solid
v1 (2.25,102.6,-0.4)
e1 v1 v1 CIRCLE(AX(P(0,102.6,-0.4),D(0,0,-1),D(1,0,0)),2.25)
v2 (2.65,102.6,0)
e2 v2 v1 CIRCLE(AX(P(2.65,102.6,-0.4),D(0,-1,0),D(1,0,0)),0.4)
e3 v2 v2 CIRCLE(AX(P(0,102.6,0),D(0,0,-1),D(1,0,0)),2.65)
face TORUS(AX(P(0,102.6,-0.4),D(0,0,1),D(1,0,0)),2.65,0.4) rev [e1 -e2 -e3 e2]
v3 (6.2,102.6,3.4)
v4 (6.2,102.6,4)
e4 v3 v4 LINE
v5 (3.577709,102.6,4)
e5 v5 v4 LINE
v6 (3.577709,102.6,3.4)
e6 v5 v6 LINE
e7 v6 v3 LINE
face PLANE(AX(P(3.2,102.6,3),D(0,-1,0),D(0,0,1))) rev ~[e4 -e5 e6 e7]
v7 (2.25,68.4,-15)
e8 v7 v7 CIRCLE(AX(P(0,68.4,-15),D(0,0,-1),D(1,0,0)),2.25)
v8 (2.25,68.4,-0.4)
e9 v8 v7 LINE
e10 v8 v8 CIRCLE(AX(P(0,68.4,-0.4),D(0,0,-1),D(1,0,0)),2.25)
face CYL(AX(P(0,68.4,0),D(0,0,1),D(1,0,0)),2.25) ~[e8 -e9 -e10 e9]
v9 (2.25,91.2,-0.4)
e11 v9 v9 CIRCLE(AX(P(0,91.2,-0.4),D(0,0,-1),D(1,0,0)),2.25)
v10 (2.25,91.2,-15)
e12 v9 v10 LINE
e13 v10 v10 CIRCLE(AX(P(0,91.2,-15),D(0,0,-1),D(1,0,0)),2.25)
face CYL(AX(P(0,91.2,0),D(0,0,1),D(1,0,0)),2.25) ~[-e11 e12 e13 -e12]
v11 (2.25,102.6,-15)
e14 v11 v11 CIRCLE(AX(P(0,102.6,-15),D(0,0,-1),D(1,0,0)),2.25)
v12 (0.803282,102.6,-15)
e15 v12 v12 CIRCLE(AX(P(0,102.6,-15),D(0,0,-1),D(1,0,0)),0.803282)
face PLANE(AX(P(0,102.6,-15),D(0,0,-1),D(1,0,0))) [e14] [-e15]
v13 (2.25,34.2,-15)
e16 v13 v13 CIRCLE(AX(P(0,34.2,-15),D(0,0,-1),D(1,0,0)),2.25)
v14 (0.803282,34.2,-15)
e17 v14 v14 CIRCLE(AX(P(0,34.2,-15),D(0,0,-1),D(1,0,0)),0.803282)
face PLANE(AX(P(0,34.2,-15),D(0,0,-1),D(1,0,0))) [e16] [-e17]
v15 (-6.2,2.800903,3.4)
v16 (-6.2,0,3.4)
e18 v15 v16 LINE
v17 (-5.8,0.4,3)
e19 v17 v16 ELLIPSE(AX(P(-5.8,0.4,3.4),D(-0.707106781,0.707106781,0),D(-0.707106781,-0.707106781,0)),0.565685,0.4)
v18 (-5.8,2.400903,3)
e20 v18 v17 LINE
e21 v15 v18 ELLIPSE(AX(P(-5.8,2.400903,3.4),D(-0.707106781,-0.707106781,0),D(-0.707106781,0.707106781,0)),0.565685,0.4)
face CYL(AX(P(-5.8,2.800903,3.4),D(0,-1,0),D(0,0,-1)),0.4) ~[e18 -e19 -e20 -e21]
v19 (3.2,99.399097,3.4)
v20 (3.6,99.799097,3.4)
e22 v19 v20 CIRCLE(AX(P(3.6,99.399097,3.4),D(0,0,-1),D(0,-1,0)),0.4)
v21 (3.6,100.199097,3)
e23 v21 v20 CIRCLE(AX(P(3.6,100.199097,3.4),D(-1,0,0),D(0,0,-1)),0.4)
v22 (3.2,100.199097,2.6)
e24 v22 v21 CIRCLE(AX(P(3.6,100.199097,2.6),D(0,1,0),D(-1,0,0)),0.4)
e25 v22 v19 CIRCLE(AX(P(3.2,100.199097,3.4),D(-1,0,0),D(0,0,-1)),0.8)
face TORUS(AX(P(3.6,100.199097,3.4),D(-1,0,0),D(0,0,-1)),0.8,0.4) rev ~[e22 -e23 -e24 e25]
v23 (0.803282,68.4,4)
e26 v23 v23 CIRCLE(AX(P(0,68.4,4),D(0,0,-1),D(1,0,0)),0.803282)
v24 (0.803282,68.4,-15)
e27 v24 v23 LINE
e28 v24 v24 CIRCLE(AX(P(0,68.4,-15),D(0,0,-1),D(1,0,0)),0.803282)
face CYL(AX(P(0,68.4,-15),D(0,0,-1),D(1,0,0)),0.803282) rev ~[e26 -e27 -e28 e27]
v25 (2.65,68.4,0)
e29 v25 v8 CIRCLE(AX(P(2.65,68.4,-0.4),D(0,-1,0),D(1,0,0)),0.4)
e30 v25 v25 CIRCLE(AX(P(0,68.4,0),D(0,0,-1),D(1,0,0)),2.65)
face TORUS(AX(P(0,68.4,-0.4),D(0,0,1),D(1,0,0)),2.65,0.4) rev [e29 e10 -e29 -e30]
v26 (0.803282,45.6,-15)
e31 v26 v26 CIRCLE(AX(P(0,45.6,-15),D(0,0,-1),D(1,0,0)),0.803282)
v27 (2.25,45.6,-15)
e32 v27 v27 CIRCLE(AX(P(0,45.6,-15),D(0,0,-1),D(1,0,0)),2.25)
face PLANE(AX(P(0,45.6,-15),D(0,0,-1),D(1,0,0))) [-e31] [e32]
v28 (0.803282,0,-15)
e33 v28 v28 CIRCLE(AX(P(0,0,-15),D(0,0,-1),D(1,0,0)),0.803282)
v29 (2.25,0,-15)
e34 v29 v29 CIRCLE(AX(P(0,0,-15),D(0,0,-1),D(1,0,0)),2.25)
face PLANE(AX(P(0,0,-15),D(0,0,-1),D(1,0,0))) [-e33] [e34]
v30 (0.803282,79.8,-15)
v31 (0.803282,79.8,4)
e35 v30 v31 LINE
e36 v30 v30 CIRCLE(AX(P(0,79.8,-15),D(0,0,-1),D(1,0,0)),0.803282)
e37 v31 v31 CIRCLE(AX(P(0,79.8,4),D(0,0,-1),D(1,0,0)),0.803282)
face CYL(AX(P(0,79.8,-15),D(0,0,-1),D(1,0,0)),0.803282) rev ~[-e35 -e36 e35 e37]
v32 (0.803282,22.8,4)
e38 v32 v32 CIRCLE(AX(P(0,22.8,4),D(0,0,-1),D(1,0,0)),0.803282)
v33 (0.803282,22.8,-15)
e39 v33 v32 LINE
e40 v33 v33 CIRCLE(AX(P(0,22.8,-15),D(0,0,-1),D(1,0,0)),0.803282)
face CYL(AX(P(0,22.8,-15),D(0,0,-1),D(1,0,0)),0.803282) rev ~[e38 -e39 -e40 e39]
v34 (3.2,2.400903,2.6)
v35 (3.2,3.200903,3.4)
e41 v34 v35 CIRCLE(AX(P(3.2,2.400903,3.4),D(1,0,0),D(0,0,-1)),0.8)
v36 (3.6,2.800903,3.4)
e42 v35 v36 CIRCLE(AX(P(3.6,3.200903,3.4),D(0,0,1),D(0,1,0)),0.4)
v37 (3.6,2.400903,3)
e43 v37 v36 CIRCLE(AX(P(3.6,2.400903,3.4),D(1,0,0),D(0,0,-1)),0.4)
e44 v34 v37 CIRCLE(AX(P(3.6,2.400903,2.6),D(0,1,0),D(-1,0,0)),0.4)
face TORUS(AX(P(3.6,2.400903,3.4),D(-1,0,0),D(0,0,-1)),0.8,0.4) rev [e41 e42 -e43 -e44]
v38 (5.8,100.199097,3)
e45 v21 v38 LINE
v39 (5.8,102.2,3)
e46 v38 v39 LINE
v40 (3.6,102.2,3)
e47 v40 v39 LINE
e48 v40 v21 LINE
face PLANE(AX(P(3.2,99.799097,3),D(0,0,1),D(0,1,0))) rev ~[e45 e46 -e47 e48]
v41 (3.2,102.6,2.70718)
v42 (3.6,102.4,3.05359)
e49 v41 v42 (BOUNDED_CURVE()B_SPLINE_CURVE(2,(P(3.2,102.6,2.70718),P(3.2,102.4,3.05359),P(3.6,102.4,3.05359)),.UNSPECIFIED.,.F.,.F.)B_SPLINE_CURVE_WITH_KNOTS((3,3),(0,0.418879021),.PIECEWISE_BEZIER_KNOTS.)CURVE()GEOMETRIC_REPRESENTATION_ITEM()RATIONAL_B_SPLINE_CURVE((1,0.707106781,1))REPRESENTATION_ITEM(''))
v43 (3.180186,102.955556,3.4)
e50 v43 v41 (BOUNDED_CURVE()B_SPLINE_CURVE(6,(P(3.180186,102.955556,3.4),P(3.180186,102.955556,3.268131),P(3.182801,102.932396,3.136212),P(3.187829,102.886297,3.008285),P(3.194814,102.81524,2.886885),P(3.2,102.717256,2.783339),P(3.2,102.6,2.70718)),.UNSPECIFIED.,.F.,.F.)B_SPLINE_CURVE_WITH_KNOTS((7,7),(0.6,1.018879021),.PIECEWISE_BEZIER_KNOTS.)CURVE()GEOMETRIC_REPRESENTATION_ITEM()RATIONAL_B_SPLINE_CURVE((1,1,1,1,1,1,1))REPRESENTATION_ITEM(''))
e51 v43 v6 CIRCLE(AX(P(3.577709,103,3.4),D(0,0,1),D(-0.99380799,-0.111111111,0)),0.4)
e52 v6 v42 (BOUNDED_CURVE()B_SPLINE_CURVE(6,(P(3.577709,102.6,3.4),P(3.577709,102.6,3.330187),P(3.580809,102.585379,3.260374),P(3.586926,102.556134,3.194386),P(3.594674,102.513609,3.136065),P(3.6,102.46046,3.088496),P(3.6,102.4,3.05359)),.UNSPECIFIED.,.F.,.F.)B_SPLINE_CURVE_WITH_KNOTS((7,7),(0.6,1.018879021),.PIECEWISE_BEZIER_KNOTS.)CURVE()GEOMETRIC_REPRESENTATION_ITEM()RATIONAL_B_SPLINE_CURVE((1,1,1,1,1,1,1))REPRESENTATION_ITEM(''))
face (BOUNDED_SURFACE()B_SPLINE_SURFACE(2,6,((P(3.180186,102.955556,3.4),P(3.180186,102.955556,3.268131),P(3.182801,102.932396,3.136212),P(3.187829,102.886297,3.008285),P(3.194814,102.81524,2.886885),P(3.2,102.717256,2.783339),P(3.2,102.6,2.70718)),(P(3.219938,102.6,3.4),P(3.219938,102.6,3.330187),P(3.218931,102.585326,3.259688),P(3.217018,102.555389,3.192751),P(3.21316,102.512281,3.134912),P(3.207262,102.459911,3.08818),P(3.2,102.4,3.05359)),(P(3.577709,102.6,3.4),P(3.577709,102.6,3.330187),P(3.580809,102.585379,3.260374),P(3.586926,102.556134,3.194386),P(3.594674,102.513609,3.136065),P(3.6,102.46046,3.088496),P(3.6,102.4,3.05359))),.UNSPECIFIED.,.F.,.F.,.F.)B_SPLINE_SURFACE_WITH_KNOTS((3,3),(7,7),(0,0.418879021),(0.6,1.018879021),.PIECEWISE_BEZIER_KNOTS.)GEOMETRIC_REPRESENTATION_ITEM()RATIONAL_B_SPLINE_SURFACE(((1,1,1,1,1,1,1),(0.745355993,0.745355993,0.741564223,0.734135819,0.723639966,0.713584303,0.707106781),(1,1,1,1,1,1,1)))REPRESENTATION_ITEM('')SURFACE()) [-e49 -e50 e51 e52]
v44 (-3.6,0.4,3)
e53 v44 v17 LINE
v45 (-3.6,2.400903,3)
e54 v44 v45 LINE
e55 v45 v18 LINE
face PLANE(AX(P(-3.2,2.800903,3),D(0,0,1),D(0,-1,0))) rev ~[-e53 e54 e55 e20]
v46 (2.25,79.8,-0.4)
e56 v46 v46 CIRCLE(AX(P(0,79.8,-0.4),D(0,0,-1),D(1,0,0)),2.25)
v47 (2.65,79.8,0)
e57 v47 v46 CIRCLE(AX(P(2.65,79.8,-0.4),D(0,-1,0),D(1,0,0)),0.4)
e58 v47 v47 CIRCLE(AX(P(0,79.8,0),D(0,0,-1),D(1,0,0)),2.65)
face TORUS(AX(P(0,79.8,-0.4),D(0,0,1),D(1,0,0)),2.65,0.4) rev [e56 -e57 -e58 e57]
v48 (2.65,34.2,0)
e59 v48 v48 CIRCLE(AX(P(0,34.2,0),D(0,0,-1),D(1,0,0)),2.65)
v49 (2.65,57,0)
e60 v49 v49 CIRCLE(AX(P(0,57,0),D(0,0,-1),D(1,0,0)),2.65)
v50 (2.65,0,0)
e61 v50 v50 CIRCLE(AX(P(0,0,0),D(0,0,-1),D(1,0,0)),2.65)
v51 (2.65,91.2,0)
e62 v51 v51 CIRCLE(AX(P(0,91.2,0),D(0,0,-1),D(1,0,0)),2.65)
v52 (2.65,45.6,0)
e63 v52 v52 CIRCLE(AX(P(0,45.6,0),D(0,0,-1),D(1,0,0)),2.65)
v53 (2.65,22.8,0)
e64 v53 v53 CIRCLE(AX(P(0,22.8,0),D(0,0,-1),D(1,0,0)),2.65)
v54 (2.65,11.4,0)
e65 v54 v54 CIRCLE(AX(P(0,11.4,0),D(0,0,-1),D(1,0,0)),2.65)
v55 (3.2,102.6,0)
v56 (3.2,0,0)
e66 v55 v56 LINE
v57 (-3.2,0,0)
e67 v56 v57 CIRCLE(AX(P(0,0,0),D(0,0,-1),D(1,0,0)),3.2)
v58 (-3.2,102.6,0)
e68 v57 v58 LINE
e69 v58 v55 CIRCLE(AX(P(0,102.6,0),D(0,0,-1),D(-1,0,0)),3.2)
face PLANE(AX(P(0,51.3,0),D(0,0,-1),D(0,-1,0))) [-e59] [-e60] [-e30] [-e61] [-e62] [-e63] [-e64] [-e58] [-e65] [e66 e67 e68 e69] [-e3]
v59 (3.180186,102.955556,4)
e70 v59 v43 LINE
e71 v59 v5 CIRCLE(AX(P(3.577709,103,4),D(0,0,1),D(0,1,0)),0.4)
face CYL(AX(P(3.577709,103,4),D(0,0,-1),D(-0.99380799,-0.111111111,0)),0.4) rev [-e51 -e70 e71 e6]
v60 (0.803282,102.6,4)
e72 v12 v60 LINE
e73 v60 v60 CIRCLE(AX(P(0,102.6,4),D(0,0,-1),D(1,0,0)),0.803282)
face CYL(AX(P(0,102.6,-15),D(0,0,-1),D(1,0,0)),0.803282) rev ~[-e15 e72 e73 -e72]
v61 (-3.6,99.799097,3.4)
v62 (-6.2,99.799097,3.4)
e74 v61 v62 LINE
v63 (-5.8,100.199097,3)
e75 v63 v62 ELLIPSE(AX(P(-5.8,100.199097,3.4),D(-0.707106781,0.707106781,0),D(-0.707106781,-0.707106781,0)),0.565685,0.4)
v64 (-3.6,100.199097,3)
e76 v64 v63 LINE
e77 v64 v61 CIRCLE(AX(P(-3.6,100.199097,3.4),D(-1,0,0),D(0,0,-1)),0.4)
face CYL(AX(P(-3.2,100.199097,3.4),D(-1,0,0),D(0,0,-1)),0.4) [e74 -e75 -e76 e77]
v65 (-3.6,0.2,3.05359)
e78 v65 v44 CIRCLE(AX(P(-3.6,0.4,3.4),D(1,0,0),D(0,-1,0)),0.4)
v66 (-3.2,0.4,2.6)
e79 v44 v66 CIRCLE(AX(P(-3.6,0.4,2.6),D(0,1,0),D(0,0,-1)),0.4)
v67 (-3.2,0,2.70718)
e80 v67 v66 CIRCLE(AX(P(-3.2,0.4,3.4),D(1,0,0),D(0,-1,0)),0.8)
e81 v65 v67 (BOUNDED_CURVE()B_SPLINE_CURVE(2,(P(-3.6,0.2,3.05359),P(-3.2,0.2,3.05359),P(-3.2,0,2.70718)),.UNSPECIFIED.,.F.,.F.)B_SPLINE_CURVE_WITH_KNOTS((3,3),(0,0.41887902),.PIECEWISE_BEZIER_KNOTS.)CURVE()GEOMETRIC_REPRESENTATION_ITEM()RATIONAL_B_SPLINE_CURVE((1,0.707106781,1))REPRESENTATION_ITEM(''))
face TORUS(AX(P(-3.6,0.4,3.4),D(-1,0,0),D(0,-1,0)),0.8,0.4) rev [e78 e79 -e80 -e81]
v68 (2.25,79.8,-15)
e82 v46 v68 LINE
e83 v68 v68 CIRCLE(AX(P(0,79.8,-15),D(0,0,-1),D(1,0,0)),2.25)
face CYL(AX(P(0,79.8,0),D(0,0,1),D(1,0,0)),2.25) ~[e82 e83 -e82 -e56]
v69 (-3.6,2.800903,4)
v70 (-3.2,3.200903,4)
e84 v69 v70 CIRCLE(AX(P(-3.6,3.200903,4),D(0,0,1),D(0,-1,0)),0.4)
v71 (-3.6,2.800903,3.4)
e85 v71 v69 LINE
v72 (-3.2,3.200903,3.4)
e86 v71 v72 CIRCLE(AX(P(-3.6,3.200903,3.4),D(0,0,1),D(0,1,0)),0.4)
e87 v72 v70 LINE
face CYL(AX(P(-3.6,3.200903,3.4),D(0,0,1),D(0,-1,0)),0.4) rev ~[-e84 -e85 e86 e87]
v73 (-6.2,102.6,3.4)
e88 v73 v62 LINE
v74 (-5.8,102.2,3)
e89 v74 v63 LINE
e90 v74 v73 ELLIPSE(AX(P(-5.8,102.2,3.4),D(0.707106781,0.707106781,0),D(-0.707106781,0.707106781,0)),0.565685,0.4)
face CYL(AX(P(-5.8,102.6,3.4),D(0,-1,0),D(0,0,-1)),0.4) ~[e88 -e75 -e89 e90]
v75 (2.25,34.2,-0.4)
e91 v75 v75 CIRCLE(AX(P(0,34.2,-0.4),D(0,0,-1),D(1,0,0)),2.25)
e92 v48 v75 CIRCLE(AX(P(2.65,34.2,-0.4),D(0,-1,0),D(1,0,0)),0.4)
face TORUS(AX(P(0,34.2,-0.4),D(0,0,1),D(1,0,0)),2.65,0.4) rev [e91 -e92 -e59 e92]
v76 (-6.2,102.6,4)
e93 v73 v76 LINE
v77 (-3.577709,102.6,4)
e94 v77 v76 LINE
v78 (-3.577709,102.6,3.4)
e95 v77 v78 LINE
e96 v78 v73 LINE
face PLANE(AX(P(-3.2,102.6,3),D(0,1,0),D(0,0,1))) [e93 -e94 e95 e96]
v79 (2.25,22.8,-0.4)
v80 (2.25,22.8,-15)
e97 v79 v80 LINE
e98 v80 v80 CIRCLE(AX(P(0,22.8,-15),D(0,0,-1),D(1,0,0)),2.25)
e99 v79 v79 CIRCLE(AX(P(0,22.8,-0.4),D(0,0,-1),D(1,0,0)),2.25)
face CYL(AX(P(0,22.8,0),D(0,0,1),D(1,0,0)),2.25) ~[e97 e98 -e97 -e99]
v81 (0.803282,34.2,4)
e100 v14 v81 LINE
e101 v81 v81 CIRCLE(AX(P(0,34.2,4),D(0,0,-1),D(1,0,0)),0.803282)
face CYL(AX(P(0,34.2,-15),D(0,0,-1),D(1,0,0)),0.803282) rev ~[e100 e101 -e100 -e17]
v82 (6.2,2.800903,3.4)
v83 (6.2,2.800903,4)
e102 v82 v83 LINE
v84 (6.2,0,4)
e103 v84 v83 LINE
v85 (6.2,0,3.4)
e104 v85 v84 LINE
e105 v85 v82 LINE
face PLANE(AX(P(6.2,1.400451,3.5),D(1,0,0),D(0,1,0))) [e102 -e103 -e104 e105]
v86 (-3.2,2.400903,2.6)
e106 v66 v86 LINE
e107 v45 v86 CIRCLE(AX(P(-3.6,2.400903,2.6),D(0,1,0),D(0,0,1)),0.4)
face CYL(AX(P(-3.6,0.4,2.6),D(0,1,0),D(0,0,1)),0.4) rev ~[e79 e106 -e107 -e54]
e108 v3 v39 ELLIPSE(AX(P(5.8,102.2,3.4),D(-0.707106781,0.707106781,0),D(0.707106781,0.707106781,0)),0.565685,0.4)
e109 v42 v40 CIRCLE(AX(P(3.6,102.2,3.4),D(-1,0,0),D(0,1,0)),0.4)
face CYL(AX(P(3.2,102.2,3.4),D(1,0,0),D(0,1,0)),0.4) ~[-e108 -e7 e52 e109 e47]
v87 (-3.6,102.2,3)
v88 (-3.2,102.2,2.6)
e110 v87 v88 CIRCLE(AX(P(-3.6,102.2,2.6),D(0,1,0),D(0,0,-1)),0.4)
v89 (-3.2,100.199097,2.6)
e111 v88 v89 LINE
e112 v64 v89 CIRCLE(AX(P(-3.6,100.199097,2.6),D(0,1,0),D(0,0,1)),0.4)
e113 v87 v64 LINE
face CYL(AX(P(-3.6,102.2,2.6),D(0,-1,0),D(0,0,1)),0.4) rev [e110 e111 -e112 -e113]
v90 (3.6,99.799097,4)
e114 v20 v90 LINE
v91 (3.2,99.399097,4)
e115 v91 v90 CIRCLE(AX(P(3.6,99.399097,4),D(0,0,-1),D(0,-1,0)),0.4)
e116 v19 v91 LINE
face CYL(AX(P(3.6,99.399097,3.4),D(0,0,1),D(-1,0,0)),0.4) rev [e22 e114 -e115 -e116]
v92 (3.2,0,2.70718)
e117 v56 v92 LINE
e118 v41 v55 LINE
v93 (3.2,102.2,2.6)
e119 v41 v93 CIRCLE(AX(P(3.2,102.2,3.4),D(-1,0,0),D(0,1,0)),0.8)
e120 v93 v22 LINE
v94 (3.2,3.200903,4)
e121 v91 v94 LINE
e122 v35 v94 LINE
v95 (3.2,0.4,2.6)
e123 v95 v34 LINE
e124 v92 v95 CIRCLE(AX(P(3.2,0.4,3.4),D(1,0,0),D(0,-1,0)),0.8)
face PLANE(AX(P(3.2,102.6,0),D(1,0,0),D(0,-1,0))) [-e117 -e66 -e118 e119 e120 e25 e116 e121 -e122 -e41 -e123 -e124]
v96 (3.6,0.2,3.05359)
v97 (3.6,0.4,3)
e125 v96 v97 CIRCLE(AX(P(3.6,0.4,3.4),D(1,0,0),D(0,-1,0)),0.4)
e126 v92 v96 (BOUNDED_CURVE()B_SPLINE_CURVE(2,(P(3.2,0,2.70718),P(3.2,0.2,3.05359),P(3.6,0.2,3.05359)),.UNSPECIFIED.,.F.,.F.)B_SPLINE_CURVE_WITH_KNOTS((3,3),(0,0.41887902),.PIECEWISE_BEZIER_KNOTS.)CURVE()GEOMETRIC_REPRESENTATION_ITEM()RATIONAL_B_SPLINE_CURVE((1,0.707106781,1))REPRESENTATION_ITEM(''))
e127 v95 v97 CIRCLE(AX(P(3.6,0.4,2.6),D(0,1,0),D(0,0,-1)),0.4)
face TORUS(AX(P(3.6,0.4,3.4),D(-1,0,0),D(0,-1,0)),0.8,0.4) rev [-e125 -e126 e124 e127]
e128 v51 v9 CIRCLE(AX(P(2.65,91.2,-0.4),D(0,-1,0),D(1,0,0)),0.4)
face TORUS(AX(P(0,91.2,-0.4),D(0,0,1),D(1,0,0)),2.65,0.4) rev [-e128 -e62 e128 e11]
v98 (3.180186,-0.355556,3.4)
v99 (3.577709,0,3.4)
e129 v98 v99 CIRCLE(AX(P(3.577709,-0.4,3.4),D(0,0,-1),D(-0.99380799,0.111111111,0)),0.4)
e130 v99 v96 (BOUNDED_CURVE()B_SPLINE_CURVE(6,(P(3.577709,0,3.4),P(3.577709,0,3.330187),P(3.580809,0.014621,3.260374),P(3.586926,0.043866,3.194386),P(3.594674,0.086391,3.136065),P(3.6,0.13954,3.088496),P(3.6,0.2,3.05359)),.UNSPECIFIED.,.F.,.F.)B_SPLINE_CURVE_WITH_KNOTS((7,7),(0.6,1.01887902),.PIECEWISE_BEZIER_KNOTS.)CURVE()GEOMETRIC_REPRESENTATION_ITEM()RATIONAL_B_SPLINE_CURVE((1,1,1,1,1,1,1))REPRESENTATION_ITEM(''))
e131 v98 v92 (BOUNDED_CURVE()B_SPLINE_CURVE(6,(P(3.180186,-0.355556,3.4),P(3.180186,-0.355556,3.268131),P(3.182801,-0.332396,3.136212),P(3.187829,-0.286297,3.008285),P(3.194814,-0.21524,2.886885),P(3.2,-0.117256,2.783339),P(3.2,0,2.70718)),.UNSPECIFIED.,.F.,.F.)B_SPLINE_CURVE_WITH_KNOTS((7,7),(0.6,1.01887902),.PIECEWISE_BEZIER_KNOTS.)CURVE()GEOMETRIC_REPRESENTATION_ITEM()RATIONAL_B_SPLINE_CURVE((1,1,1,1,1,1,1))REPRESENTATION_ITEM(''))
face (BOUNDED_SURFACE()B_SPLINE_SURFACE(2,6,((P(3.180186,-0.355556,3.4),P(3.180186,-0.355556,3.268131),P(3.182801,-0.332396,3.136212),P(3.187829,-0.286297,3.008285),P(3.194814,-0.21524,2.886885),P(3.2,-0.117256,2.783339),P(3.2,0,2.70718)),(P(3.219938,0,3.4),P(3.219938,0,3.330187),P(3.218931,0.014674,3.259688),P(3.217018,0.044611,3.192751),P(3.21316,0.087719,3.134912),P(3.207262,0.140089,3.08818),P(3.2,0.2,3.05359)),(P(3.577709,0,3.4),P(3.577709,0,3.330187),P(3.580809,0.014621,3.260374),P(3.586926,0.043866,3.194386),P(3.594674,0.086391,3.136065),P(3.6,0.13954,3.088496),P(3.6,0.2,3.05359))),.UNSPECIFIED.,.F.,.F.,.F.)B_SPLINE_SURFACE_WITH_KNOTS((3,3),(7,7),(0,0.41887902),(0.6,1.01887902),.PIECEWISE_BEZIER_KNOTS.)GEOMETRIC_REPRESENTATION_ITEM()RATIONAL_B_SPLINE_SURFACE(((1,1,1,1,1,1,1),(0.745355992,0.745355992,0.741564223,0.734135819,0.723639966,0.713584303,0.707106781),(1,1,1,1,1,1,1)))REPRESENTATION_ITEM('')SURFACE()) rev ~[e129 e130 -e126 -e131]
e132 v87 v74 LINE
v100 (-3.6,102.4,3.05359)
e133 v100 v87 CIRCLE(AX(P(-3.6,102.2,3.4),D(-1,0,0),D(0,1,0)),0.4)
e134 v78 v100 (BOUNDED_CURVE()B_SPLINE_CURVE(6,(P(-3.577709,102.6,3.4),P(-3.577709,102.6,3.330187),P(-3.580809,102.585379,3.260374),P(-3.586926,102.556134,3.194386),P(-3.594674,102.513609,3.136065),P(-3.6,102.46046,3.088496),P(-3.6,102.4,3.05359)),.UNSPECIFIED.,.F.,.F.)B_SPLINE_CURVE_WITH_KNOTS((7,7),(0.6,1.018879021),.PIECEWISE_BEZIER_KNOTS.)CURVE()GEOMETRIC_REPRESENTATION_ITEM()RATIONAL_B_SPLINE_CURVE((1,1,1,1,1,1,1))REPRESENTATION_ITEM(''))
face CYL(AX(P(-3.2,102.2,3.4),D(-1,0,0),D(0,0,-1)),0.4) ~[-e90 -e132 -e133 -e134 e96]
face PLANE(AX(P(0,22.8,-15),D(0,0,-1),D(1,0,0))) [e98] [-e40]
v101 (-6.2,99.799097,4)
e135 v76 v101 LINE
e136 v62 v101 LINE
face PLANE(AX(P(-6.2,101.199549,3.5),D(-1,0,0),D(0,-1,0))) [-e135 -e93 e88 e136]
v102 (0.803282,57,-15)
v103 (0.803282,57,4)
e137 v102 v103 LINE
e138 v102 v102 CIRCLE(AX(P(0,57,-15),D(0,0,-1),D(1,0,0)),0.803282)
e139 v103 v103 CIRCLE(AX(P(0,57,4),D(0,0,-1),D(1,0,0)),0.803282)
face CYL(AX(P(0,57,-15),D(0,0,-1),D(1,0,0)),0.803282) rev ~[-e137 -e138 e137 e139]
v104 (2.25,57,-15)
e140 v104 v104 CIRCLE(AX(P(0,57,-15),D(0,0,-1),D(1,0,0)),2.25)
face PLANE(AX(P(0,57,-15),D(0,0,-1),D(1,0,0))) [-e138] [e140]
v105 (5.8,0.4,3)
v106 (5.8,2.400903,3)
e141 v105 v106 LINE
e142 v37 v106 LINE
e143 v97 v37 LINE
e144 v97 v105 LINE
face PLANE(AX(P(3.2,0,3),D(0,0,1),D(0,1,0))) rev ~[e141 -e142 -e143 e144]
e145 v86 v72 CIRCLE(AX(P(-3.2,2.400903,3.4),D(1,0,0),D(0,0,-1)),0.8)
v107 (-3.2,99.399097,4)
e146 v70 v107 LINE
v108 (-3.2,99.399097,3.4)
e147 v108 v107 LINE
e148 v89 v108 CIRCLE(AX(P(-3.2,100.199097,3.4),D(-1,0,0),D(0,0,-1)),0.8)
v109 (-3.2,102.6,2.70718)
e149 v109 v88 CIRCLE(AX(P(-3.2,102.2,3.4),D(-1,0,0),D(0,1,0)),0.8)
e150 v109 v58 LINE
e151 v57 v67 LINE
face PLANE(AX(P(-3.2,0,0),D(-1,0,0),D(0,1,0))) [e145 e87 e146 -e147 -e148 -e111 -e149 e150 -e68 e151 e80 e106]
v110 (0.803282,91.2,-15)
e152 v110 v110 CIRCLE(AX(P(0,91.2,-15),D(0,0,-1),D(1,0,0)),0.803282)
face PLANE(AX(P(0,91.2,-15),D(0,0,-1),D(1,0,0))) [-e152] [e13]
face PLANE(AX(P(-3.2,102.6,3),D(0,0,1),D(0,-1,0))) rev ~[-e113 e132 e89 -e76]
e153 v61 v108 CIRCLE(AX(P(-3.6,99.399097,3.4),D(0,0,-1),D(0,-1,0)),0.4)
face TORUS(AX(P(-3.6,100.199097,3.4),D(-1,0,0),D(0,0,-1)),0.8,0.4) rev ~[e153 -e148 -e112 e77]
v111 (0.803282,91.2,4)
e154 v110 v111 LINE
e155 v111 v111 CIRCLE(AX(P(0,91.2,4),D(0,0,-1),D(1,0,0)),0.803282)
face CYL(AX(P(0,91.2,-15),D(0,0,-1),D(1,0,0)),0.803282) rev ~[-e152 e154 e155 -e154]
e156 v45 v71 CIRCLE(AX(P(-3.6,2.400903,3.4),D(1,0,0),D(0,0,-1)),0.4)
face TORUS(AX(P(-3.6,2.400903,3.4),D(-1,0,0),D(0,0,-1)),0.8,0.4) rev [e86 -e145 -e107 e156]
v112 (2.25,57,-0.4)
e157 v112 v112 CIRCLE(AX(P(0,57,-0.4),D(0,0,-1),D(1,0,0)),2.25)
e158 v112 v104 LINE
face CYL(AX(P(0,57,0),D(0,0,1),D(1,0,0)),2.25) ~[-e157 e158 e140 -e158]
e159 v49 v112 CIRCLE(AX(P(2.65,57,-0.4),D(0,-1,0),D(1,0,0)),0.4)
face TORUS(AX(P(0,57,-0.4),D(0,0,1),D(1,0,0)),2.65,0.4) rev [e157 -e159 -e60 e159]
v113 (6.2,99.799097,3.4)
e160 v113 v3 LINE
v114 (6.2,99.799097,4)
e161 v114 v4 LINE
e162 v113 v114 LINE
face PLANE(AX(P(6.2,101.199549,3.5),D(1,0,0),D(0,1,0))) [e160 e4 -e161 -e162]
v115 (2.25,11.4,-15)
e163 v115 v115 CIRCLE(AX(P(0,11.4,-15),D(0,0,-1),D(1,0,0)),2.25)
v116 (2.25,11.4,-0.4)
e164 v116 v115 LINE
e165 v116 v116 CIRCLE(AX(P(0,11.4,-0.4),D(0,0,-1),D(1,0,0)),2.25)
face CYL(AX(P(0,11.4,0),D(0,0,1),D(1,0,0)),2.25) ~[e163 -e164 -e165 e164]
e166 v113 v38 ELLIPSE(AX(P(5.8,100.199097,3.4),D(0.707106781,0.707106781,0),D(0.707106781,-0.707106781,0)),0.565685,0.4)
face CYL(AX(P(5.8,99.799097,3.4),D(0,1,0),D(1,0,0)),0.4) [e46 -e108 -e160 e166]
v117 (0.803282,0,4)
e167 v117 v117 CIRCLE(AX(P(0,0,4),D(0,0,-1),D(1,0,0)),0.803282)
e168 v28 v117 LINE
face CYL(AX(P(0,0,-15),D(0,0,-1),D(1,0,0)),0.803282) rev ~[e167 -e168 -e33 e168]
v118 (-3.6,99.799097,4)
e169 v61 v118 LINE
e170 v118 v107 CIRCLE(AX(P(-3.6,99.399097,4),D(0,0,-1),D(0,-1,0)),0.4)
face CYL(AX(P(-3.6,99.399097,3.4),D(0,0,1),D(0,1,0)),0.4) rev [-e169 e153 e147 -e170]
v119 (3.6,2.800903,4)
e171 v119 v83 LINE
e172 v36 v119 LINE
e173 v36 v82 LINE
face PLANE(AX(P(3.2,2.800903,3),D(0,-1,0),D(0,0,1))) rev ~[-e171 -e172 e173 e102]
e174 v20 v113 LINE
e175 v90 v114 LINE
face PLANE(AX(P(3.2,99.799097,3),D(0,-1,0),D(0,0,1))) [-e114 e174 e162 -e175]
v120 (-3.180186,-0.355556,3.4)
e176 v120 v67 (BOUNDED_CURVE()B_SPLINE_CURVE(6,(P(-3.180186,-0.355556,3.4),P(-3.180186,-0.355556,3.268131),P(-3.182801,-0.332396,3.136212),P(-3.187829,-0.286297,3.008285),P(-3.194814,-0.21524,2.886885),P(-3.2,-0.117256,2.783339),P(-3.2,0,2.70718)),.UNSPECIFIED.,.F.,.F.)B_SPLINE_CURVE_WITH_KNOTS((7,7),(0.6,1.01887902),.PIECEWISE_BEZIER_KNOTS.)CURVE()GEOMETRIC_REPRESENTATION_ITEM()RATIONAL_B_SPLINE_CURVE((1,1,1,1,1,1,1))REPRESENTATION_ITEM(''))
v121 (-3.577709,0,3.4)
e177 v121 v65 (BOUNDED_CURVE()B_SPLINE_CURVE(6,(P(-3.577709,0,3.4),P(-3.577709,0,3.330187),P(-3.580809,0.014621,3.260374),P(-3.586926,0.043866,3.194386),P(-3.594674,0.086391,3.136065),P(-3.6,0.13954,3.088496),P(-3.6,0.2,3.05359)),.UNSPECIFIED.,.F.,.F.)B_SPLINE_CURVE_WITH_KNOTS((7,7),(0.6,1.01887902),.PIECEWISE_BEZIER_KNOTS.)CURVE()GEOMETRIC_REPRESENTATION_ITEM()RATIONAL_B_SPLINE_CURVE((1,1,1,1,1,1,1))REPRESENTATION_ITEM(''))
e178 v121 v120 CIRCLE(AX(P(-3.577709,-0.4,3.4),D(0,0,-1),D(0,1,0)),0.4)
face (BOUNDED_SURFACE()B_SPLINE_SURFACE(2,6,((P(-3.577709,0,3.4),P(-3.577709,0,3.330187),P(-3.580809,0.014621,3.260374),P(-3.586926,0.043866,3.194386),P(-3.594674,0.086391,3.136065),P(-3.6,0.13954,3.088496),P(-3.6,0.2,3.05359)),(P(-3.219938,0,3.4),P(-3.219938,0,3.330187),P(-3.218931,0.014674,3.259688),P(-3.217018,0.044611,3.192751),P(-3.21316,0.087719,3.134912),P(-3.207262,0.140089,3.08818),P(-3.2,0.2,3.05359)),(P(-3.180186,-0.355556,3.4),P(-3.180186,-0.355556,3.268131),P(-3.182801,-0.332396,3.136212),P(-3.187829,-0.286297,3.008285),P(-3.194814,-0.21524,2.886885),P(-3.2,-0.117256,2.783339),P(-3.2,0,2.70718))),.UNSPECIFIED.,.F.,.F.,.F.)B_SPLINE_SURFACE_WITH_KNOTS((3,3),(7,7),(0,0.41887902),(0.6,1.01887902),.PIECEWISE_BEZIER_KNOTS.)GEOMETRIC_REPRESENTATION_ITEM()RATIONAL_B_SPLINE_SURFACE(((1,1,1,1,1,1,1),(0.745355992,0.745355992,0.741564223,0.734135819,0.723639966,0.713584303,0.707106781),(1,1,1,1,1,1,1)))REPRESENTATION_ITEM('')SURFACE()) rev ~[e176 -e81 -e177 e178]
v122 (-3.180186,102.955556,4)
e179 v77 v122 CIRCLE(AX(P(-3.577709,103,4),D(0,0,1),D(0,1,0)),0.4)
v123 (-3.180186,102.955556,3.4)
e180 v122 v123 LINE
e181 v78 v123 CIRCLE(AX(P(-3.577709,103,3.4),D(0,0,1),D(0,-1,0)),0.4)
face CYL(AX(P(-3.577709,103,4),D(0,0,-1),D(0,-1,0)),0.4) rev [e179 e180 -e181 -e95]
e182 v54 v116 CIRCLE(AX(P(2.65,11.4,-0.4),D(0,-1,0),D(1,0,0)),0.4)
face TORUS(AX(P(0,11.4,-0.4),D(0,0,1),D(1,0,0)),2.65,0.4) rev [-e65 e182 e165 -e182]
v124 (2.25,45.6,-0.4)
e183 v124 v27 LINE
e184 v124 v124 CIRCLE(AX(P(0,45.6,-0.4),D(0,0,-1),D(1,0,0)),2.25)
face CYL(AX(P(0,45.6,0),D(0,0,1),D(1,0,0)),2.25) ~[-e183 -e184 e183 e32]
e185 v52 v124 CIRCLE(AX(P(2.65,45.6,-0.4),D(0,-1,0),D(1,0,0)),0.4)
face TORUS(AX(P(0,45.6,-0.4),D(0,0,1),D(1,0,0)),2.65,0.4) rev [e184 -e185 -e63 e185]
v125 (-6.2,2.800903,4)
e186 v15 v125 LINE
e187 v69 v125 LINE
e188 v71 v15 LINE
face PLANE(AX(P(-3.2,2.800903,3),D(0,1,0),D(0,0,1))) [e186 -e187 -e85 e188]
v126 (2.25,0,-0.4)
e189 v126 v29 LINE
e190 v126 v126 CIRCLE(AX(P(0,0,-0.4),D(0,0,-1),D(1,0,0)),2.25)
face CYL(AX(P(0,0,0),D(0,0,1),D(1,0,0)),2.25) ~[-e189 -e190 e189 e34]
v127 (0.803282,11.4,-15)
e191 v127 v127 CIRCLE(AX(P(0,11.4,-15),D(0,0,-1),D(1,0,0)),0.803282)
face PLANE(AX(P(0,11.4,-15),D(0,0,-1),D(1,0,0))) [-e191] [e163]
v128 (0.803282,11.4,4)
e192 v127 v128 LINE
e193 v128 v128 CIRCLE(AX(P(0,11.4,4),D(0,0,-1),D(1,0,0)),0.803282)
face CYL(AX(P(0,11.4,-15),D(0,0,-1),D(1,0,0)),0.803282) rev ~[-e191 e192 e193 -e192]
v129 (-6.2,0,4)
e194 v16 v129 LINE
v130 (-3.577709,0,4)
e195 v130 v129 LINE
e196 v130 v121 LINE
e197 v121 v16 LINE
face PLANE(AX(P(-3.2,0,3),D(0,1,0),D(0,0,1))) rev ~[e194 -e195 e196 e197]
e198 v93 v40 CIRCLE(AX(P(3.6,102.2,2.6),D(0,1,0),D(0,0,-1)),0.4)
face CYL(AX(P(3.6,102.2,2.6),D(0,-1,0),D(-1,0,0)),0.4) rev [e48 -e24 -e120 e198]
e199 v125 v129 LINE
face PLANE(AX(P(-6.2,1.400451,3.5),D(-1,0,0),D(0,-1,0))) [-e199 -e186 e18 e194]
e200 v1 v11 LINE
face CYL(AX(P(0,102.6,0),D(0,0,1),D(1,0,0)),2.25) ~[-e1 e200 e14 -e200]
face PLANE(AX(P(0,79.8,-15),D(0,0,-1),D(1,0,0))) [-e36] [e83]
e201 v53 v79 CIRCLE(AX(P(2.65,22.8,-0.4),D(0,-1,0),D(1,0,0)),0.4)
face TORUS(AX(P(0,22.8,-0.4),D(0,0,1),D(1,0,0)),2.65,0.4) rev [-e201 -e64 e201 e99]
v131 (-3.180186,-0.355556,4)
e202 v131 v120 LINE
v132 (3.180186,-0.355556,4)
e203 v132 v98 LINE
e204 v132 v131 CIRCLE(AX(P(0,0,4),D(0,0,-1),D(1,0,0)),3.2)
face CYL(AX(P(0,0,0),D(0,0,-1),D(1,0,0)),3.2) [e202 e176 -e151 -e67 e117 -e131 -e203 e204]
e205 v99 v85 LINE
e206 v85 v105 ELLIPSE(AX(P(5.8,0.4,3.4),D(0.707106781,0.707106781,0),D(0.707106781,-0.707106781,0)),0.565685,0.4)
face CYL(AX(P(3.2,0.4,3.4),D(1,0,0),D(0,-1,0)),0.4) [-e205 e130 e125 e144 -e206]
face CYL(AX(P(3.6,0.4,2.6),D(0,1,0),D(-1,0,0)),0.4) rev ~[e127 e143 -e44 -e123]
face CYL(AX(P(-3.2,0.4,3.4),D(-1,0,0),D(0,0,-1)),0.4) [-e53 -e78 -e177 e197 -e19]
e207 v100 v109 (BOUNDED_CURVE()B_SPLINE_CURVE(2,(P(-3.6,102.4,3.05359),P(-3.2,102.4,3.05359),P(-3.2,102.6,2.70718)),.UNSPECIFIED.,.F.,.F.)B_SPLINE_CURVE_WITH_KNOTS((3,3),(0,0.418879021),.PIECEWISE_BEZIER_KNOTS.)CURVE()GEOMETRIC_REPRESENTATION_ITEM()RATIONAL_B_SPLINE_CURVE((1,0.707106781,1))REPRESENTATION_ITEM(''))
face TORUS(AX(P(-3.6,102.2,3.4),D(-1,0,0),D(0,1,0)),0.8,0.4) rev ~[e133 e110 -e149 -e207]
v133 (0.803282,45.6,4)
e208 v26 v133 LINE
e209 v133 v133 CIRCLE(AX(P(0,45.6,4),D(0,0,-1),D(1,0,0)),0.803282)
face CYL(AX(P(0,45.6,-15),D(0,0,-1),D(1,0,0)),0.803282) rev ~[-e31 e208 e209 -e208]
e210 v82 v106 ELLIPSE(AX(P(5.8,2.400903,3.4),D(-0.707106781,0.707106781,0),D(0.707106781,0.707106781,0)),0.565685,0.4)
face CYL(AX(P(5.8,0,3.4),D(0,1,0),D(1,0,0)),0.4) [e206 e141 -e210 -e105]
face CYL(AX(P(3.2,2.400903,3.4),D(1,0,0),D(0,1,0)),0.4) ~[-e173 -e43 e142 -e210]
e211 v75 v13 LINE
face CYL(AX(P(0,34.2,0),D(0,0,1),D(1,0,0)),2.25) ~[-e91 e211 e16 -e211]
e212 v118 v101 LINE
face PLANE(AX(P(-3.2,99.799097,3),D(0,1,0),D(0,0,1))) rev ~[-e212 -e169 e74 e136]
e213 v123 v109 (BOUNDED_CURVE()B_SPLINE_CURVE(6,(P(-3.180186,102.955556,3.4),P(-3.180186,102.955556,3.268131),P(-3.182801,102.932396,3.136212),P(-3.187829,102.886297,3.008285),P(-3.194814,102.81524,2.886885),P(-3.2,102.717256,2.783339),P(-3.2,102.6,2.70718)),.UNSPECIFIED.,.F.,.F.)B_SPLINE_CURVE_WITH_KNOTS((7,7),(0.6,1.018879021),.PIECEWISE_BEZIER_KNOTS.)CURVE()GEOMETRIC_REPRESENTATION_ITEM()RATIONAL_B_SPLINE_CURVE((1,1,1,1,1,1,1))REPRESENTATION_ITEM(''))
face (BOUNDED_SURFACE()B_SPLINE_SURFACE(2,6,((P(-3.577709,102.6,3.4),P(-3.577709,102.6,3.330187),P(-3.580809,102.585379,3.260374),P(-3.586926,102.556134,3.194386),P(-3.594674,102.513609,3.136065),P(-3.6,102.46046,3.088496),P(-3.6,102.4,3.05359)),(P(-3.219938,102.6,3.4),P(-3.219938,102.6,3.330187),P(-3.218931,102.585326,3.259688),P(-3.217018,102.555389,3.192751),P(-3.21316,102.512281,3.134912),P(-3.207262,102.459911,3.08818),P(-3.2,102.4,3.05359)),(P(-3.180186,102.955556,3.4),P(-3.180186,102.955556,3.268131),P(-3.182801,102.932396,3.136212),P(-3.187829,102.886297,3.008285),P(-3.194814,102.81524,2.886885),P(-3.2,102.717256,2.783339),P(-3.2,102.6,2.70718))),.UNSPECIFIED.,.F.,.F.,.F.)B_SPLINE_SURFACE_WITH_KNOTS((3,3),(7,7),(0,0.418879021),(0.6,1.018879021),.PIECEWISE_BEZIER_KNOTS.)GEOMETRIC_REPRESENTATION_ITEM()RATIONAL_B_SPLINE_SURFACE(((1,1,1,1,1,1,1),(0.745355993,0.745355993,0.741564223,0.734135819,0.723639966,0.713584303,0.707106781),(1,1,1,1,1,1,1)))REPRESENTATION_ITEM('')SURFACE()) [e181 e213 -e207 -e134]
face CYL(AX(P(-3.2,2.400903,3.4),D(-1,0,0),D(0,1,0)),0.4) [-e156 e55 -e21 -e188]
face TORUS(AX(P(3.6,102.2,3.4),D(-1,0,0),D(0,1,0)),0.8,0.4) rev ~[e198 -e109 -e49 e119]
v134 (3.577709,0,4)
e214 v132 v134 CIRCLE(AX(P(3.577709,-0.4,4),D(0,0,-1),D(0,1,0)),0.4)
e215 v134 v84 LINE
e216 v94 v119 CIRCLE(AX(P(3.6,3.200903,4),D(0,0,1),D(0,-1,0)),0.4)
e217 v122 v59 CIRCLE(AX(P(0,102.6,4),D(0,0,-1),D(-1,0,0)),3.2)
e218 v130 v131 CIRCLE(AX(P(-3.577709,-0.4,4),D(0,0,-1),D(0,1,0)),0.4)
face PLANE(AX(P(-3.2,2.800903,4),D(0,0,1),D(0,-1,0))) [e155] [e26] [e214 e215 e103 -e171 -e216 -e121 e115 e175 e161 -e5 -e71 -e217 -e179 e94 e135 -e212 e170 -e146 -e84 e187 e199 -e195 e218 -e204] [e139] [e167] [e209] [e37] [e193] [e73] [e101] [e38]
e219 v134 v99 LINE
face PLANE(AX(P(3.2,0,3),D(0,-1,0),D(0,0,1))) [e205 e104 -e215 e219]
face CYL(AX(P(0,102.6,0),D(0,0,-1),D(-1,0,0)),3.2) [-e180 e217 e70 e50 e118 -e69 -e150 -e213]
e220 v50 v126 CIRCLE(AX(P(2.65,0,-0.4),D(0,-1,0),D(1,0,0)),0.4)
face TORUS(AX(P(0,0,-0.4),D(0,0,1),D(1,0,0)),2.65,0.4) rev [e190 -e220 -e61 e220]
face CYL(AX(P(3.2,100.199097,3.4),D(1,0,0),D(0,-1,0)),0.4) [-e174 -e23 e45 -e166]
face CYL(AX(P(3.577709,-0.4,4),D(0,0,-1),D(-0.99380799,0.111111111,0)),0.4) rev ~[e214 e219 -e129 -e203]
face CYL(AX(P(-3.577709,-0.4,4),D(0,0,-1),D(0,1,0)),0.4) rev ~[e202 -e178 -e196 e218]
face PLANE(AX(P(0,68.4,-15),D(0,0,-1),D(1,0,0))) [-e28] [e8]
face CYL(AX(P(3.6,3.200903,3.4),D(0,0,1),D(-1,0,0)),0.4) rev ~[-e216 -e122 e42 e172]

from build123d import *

# Parameters (mm, degrees)
BOSS_EXTRUDE1_DEPTH = 4
SKETCH2_R           = 2.25
BOSS_EXTRUDE3_DEPTH = 15
FILLET1_R           = 0.4
SKETCH4_W           = 2.800902737
SKETCH4_H           = 1
BOSS_EXTRUDE4_DEPTH = 3
SKETCH3_W           = 2.800902737
SKETCH3_H           = 1
BOSS_EXTRUDE5_DEPTH = 3
FILLET2_R           = 0.4
FILLET3_R           = 0.4
SKETCH5_R           = 0.803281651
CUT_EXTRUDE2_DEPTH  = 20.0000001


with BuildPart() as part:
    # Sketch1 → Boss-Extrude1 (new body)
    with BuildSketch(Plane(origin=(0, 0, 0), x_dir=(0, 1, 0), z_dir=(0, 0, 1))):
        with BuildLine():
            Line((0, 3.2), (102.6, 3.2))
            ThreePointArc((102.6, 3.2), (105.8, 0), (102.6, -3.2))
            Line((102.6, -3.2), (0, -3.2))
            ThreePointArc((0, -3.2), (-3.2, 0), (0, 3.2))
        make_face()
    extrude(amount=BOSS_EXTRUDE1_DEPTH)

    # Sketch2 → Boss-Extrude3 (add)
    with BuildSketch(Plane(origin=(0, 0, 0), x_dir=(1, 0, 0), z_dir=(0, 0, -1))):
        Circle(SKETCH2_R)
        with Locations((0, -11.4)):
            Circle(SKETCH2_R)
        with Locations((0, -22.8)):
            Circle(SKETCH2_R)
        with Locations((0, -34.2)):
            Circle(SKETCH2_R)
        with Locations((0, -45.6)):
            Circle(SKETCH2_R)
        with Locations((0, -57)):
            Circle(SKETCH2_R)
        with Locations((0, -68.4)):
            Circle(SKETCH2_R)
        with Locations((0, -79.8)):
            Circle(SKETCH2_R)
        with Locations((0, -91.2)):
            Circle(SKETCH2_R)
        with Locations((0, -102.6)):
            Circle(SKETCH2_R)
    extrude(amount=BOSS_EXTRUDE3_DEPTH)

    # Fillet1
    fillet1_edges = [part.edges().sort_by_distance(p)[0] for p in [
        (-2.25, 102.6, 0),
        (-2.25, 91.2, 0),
        (-2.25, 79.8, 0),
        (-2.25, 68.4, 0),
        (-2.25, 57, 0),
        (-2.25, 45.6, 0),
        (-2.25, 34.2, 0),
        (-2.25, 22.8, 0),
        (-2.25, 11.4, 0),
        (-2.25, 0, 0),
    ]]
    fillet(fillet1_edges, radius=FILLET1_R)

    # Sketch4 → Boss-Extrude4 (add)
    with BuildSketch(Plane.YZ.offset(3.2)):
        with Locations((1.400451369, 3.5)):
            Rectangle(SKETCH4_W, SKETCH4_H)
        with Locations((101.199548632, 3.5)):
            Rectangle(SKETCH4_W, SKETCH4_H)
    extrude(amount=BOSS_EXTRUDE4_DEPTH)

    # Sketch3 → Boss-Extrude5 (add)
    with BuildSketch(Plane(origin=(-3.2, 0, 0), x_dir=(0, -1, 0), z_dir=(-1, 0, 0))):
        with Locations((-1.400451369, 3.5)):
            Rectangle(SKETCH3_W, SKETCH3_H)
        with Locations((-101.199548632, 3.5)):
            Rectangle(SKETCH3_W, SKETCH3_H)
    extrude(amount=BOSS_EXTRUDE5_DEPTH)

    # Fillet2
    fillet2_edges = [part.edges().sort_by_distance(p)[0] for p in [
        (4.7, 102.6, 3),
        (4.7, 99.799097263, 3),
        (6.2, 101.199548631, 3),
        (-4.7, 102.6, 3),
        (-4.7, 99.799097263, 3),
        (-6.2, 101.199548631, 3),
        (-4.7, 2.800902737, 3),
        (-4.7, 0, 3),
        (-6.2, 1.400451369, 3),
        (4.7, 0, 3),
        (4.7, 2.800902737, 3),
        (6.2, 1.400451369, 3),
    ]]
    fillet(fillet2_edges, radius=FILLET2_R)

    # Fillet3
    fillet3_edges = [part.edges().sort_by_distance(p)[0] for p in [
        (3.2, 99.799097263, 3.7),
        (-3.2, 2.800902737, 3.7),
        (-3.2, 1.400451369, 3),
        (3.2, 1.400451369, 3),
        (3.2, 2.800902737, 3.7),
        (-3.2, 99.799097263, 3.7),
        (-3.2, 101.199548631, 3),
        (3.2, 101.199548631, 3),
        (-3.2, 2.68374545, 3.117157288),
        (-3.2, 0.117157288, 3.117157288),
        (3.2, 0.117157288, 3.117157288),
        (3.2, 2.68374545, 3.117157288),
        (-3.2, 99.91625455, 3.117157288),
        (-3.2, 102.482842712, 3.117157288),
        (3.2, 99.91625455, 3.117157288),
        (3.2, 102.482842712, 3.117157288),
    ]]
    fillet(fillet3_edges, radius=FILLET3_R)

    # Sketch5 → Cut-Extrude2 (cut, through all)
    with BuildSketch(Plane(origin=(0, 0, -15), x_dir=(1, 0, 0), z_dir=(0, 0, -1))):
        Circle(SKETCH5_R)
        with Locations((0, -11.4)):
            Circle(SKETCH5_R)
        with Locations((0, -22.8)):
            Circle(SKETCH5_R)
        with Locations((0, -34.2)):
            Circle(SKETCH5_R)
        with Locations((0, -45.6)):
            Circle(SKETCH5_R)
        with Locations((0, -57)):
            Circle(SKETCH5_R)
        with Locations((0, -68.4)):
            Circle(SKETCH5_R)
        with Locations((0, -79.8)):
            Circle(SKETCH5_R)
        with Locations((0, -91.2)):
            Circle(SKETCH5_R)
        with Locations((0, -102.6)):
            Circle(SKETCH5_R)
    extrude(amount=-CUT_EXTRUDE2_DEPTH, mode=Mode.SUBTRACT)


solid = part.part
